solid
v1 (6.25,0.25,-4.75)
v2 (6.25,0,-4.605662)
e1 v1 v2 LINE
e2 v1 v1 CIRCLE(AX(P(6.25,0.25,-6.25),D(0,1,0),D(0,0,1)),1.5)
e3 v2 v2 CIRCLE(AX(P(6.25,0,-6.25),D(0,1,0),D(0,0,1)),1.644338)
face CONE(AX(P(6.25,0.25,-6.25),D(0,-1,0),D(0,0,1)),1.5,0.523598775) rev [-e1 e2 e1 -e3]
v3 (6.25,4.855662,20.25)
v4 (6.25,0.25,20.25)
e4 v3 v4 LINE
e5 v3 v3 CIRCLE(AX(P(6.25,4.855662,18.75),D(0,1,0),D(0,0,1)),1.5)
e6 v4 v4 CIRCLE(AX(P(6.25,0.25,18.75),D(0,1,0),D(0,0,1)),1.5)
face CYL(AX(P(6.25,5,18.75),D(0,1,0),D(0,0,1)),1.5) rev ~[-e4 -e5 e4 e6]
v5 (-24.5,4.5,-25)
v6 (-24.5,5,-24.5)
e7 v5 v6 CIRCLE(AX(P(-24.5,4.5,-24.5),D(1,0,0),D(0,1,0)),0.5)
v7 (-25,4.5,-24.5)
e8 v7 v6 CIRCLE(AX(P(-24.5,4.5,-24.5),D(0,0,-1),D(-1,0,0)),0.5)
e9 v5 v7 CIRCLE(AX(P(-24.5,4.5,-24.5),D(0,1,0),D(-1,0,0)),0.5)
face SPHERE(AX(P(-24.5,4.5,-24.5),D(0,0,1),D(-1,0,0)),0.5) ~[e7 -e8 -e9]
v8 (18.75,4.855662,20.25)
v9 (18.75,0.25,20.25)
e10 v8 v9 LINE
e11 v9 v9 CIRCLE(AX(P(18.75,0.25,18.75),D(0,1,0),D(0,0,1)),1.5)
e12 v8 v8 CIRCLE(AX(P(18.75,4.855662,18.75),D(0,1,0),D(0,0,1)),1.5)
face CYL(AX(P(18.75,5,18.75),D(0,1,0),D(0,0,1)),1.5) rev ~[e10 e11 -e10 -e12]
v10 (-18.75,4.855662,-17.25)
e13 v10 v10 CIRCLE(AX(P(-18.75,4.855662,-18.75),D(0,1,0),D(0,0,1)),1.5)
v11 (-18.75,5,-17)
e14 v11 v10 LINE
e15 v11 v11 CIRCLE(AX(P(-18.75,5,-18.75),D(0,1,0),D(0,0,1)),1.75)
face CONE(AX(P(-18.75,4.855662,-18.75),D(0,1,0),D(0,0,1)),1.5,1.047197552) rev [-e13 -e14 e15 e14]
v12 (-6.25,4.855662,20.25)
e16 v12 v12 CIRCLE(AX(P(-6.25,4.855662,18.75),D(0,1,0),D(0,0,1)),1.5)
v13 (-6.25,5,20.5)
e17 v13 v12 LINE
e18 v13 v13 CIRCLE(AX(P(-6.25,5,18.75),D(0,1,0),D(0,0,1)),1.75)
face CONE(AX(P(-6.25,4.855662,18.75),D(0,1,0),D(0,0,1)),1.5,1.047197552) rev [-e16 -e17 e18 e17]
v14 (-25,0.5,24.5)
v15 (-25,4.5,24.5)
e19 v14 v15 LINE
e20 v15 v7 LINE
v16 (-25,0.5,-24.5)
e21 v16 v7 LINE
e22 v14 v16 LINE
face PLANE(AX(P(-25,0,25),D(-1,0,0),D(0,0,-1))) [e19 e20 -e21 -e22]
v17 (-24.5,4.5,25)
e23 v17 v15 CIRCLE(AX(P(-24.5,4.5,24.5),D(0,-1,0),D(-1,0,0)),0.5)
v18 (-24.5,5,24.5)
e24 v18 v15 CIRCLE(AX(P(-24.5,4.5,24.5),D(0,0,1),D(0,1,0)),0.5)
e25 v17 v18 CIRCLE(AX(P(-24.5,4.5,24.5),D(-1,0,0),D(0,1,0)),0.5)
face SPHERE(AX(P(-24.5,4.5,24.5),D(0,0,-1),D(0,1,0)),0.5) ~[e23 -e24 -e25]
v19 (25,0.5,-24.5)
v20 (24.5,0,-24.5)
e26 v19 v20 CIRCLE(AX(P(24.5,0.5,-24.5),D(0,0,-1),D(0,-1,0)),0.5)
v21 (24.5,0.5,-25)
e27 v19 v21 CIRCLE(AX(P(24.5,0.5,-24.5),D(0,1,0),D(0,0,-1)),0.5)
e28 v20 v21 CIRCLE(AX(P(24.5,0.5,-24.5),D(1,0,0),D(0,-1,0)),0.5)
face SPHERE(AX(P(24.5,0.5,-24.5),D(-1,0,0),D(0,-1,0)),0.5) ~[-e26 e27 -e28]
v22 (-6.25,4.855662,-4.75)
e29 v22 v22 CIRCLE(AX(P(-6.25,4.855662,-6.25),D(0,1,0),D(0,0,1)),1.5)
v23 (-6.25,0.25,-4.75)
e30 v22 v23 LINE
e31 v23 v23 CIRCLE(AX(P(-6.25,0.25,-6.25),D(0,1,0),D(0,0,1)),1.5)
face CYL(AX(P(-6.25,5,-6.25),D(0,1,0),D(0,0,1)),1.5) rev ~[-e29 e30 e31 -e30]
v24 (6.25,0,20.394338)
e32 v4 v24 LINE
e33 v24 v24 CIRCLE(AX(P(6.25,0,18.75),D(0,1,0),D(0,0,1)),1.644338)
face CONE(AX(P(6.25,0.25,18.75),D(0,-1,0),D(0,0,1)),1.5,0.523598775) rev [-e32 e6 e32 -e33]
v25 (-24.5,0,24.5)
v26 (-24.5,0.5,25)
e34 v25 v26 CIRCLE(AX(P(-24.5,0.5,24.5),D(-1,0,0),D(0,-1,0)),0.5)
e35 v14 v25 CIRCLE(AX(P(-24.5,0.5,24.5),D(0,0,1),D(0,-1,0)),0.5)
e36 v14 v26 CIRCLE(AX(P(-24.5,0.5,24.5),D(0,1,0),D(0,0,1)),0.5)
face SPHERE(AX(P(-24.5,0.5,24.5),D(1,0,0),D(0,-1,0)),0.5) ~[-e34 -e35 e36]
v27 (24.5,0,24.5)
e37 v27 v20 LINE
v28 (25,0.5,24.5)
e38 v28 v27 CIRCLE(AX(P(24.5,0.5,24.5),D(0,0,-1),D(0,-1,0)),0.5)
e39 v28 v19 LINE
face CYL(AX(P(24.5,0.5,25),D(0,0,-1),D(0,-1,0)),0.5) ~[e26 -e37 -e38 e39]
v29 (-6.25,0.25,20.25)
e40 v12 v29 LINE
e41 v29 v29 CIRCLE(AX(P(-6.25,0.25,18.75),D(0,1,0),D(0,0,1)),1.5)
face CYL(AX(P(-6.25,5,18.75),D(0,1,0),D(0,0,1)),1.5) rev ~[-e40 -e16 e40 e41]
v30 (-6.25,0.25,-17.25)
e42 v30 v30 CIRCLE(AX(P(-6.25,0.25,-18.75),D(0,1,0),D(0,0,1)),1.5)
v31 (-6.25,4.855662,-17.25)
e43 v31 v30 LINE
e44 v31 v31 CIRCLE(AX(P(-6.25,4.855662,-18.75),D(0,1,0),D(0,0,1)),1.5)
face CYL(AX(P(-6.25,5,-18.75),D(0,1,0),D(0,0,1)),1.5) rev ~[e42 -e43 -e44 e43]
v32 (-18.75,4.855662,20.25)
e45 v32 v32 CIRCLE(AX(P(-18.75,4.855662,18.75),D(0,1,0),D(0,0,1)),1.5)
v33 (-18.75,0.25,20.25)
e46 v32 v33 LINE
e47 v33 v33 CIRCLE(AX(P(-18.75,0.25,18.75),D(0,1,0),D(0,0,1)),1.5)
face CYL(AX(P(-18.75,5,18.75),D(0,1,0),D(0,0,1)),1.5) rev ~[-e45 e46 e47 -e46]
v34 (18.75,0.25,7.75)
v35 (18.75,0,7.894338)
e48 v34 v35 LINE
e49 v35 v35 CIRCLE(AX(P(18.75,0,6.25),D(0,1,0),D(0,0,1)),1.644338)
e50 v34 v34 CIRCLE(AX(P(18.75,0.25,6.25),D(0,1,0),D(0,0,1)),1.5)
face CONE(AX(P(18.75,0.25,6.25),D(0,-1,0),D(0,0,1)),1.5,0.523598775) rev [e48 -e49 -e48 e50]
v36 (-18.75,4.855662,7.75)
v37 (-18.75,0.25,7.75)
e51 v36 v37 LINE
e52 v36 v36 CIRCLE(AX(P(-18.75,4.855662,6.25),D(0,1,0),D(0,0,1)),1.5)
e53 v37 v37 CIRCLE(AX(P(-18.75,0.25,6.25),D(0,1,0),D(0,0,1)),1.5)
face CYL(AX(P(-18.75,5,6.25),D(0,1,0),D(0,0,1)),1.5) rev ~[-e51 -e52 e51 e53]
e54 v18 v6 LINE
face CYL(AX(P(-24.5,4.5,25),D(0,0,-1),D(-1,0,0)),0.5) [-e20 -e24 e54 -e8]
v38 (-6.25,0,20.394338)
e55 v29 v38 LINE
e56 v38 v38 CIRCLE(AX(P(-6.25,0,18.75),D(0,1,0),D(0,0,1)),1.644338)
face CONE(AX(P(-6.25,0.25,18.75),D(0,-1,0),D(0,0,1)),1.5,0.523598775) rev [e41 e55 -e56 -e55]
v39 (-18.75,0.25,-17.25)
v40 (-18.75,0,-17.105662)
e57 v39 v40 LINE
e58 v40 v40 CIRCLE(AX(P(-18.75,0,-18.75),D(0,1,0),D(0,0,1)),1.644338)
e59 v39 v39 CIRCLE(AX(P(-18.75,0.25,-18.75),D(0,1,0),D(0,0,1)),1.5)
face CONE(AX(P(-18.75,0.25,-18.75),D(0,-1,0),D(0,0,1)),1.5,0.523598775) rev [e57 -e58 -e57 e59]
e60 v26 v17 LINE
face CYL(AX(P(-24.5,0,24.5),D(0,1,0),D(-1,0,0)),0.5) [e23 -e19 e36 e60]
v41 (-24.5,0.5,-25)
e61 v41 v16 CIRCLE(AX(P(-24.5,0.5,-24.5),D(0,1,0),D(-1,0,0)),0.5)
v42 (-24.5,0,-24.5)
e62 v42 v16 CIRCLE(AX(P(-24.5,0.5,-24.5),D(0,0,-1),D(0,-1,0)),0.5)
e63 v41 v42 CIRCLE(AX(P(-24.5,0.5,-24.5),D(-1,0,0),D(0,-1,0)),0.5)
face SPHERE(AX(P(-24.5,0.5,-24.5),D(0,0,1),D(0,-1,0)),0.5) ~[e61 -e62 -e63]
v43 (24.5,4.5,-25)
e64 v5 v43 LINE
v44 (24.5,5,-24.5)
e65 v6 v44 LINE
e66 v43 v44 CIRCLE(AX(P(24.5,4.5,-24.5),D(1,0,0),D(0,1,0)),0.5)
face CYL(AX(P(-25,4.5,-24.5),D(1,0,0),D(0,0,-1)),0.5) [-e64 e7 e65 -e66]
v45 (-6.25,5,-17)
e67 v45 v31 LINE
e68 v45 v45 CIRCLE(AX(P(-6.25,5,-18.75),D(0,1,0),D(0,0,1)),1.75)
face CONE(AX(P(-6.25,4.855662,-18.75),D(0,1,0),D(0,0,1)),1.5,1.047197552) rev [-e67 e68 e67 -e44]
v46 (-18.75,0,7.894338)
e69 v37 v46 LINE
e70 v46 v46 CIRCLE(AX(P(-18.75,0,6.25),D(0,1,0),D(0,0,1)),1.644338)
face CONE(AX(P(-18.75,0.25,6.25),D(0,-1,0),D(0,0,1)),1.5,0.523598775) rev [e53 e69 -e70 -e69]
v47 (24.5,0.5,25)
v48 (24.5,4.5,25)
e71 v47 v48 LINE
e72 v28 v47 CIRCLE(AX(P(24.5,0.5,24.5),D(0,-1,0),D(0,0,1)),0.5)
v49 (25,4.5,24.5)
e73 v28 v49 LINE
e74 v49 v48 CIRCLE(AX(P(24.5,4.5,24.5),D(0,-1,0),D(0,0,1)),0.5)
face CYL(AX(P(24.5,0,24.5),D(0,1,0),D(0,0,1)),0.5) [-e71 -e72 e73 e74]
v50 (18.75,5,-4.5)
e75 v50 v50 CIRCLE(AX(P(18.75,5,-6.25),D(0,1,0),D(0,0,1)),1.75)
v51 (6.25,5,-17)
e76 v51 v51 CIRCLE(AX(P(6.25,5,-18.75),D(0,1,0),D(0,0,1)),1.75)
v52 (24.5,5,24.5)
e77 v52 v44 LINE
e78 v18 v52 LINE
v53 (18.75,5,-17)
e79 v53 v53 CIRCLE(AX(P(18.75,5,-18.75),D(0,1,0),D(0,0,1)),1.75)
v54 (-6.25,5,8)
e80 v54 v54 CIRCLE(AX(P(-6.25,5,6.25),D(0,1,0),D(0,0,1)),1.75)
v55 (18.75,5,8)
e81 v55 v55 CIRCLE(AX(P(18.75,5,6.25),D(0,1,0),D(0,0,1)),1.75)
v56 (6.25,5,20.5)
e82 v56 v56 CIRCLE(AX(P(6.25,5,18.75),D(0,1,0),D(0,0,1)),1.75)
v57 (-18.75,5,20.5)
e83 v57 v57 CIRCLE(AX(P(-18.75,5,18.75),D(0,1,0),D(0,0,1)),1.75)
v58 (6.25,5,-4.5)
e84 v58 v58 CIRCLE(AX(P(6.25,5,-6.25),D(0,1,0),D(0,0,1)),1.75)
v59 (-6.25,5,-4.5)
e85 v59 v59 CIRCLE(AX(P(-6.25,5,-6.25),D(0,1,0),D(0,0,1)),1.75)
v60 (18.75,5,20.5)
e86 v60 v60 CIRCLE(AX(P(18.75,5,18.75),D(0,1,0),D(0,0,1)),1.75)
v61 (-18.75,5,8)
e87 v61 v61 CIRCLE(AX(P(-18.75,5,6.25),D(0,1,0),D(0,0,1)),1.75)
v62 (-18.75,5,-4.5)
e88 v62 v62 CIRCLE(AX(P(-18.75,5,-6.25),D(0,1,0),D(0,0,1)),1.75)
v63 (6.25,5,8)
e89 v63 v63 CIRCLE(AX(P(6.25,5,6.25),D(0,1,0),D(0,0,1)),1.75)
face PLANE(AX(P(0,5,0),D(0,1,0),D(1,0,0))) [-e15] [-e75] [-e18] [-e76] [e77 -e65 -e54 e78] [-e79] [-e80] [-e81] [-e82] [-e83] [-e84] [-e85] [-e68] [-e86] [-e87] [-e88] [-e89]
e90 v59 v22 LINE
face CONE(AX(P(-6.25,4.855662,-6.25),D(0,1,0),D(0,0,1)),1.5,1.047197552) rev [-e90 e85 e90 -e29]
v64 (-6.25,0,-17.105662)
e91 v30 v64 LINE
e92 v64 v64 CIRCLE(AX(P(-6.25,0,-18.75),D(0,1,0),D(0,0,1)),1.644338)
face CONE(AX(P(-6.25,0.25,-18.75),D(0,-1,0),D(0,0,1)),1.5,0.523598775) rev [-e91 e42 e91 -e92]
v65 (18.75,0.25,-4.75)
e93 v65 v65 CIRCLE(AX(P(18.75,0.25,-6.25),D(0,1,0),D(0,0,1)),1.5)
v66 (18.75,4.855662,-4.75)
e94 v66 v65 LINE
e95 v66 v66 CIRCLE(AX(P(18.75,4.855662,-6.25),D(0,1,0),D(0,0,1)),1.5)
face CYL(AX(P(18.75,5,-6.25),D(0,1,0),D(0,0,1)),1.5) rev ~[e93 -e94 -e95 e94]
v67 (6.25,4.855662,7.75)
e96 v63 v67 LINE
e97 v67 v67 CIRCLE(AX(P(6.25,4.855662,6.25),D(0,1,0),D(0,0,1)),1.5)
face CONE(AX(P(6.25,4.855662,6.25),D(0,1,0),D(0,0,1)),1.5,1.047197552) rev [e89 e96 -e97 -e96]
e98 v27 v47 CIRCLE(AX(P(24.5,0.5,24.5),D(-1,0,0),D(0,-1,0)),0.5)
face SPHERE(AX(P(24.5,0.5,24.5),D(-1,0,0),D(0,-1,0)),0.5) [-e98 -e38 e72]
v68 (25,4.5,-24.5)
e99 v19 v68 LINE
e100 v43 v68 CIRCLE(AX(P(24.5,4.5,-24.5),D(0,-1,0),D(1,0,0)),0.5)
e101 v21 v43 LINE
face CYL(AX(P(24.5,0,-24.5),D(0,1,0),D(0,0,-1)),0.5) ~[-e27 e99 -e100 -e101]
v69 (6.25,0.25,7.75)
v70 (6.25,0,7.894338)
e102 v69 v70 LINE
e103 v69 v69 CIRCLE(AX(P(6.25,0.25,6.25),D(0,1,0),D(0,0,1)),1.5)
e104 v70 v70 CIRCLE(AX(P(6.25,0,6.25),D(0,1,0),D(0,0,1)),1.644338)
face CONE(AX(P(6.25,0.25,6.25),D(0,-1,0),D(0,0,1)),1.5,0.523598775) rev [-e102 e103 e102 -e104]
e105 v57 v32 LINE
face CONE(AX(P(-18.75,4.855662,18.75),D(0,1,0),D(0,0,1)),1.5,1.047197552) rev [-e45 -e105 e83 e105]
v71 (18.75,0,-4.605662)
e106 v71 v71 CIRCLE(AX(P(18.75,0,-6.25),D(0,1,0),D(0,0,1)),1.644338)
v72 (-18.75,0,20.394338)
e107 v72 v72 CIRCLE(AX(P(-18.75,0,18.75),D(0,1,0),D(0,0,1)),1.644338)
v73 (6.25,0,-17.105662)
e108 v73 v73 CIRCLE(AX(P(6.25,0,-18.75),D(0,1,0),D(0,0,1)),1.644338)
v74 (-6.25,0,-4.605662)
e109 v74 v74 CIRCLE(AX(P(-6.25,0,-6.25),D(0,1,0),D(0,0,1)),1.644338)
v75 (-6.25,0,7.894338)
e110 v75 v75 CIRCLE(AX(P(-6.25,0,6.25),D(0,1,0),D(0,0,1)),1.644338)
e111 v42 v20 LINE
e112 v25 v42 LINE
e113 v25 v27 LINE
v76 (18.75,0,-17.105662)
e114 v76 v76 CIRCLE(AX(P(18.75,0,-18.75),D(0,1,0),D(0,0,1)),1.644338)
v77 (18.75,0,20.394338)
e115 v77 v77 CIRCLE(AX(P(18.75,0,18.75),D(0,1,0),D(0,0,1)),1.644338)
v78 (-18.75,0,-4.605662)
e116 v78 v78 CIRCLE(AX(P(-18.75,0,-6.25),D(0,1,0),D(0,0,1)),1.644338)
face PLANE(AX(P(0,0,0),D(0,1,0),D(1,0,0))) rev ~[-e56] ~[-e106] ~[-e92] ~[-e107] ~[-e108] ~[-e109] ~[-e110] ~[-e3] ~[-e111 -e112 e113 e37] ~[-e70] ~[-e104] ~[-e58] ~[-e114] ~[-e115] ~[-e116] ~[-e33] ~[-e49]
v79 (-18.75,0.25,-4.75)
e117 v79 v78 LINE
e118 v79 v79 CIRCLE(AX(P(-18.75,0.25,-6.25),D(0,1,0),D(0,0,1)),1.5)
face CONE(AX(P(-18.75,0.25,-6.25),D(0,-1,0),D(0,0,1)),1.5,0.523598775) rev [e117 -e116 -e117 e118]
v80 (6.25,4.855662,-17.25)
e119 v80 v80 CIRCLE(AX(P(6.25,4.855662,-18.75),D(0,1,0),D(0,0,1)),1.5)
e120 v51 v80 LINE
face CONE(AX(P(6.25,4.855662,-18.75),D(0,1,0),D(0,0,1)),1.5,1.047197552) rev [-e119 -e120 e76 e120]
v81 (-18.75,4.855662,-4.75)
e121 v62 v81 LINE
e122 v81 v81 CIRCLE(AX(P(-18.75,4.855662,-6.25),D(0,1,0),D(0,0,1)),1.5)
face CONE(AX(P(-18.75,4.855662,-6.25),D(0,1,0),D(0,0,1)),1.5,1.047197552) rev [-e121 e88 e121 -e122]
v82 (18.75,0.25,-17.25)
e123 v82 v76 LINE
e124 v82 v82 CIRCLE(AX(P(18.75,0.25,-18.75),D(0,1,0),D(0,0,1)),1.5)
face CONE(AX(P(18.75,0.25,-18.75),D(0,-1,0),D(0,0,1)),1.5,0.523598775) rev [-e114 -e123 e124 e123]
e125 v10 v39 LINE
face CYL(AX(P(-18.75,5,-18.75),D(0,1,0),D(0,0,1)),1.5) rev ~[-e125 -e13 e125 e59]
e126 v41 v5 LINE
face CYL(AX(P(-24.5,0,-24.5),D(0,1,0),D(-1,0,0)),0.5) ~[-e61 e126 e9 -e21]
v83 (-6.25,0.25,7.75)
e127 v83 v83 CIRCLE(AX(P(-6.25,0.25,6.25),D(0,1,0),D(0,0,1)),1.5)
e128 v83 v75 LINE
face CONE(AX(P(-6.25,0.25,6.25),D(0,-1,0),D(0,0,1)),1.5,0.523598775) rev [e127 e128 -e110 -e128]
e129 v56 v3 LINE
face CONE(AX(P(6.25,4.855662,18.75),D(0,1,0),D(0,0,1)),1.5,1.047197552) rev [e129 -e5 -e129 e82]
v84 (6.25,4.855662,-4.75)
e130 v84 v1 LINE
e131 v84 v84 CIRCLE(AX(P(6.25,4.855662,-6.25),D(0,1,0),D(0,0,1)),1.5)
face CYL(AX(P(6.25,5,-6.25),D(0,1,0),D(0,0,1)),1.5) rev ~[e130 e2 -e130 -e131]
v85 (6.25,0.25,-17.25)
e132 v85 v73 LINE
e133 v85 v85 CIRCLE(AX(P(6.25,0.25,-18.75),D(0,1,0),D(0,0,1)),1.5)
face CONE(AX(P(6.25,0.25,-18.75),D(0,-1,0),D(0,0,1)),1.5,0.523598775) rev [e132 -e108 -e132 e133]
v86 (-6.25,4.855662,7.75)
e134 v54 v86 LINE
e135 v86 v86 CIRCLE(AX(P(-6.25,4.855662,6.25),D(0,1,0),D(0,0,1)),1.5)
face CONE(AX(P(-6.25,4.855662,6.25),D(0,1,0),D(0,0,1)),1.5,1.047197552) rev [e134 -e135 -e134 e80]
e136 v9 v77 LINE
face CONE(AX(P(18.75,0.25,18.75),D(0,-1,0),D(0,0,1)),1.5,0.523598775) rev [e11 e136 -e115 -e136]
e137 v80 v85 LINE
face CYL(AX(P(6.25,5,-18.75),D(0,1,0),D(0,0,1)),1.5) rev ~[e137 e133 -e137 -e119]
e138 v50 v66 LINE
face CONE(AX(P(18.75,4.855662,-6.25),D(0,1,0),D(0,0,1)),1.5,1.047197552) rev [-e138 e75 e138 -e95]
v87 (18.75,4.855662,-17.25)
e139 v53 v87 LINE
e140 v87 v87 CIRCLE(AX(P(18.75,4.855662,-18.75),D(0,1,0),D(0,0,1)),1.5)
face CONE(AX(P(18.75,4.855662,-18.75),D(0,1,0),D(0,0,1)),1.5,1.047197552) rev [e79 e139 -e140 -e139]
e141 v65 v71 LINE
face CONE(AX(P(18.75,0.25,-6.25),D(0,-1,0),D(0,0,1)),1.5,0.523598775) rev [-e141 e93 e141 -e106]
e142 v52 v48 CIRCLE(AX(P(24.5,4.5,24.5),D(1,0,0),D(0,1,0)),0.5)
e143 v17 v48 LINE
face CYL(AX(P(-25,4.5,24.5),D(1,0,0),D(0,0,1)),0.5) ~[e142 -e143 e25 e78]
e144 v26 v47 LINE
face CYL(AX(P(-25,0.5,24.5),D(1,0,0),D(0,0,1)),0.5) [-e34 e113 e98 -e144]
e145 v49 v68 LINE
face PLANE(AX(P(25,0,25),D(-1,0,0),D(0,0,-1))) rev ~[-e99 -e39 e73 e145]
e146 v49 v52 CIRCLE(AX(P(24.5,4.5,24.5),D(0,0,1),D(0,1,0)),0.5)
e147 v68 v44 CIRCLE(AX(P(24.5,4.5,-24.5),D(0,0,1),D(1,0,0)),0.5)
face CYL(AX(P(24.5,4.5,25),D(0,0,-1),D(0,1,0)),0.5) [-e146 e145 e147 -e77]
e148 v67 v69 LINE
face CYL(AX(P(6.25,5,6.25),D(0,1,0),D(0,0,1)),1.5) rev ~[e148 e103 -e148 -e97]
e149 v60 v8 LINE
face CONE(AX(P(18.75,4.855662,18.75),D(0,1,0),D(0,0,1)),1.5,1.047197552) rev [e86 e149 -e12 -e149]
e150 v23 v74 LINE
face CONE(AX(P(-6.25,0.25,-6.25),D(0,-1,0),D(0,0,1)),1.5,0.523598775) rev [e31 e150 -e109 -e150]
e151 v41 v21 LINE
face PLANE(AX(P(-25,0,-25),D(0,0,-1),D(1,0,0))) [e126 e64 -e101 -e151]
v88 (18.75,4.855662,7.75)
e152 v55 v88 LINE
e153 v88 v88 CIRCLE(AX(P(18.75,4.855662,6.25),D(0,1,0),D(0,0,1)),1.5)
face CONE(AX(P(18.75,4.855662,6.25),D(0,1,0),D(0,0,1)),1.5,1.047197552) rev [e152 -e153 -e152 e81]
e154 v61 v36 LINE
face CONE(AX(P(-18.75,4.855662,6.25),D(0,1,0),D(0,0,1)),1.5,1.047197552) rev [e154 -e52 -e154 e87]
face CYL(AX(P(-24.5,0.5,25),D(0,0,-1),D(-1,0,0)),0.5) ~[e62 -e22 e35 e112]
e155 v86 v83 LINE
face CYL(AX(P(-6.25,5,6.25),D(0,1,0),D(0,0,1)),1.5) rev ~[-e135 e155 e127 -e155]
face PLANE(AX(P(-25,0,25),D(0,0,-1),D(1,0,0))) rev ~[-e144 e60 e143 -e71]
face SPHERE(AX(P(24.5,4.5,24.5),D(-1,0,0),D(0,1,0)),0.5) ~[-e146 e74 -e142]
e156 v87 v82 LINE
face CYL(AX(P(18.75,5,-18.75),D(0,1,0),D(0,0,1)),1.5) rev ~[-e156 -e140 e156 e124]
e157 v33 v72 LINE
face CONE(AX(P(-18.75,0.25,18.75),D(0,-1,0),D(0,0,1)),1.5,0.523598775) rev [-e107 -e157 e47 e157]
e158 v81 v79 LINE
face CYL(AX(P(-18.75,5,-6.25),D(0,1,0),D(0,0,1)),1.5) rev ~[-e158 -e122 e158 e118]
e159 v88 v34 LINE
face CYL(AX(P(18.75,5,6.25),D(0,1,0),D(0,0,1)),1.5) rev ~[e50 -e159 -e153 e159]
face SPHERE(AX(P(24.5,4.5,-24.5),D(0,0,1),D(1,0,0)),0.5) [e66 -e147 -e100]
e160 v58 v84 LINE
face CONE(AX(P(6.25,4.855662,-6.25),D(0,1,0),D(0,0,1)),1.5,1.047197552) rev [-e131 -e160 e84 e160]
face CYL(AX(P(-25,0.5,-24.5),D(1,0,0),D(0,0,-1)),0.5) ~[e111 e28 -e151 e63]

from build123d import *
from OCP.BRepFilletAPI import BRepFilletAPI_MakeChamfer

# Parameters (mm, degrees)
BASE_SKETCH_W          = 50
BASE_SKETCH_H          = 50
BASE_EXTRUDE_DEPTH     = 5
CIRCLES_SKETCH_R       = 1.5
CIRCLE_CUTS_DEPTH      = 5
EDGE_FILLET_R          = 0.5
CIRCULAR_CHAMFER_SIZE  = 0.25
CIRCULAR_CHAMFER_SIZE2 = 0.144337567


with BuildPart() as part:
    # Base Sketch → Base Extrude (new body)
    with BuildSketch(Plane(origin=(0, 0, 0), x_dir=(1, 0, 0), z_dir=(0, 1, 0))):
        Rectangle(BASE_SKETCH_W, BASE_SKETCH_H)
    extrude(amount=BASE_EXTRUDE_DEPTH)

    # Circles Sketch → Circle Cuts (cut)
    with BuildSketch(Plane(origin=(0, 5, 0), x_dir=(1, 0, 0), z_dir=(0, 1, 0))):
        with Locations(Location((-18.75, 18.75, 0), (0, 0, 270))):
            Circle(CIRCLES_SKETCH_R)
        with Locations(Location((-6.25, 18.75, 0), (0, 0, 270))):
            Circle(CIRCLES_SKETCH_R)
        with Locations(Location((6.25, 18.75, 0), (0, 0, 270))):
            Circle(CIRCLES_SKETCH_R)
        with Locations(Location((18.75, 18.75, 0), (0, 0, 270))):
            Circle(CIRCLES_SKETCH_R)
        with Locations(Location((-18.75, 6.25, 0), (0, 0, 270))):
            Circle(CIRCLES_SKETCH_R)
        with Locations(Location((-6.25, 6.25, 0), (0, 0, 270))):
            Circle(CIRCLES_SKETCH_R)
        with Locations(Location((6.25, 6.25, 0), (0, 0, 270))):
            Circle(CIRCLES_SKETCH_R)
        with Locations(Location((18.75, 6.25, 0), (0, 0, 270))):
            Circle(CIRCLES_SKETCH_R)
        with Locations(Location((-18.75, -6.25, 0), (0, 0, 270))):
            Circle(CIRCLES_SKETCH_R)
        with Locations(Location((-6.25, -6.25, 0), (0, 0, 270))):
            Circle(CIRCLES_SKETCH_R)
        with Locations(Location((6.25, -6.25, 0), (0, 0, 270))):
            Circle(CIRCLES_SKETCH_R)
        with Locations(Location((18.75, -6.25, 0), (0, 0, 270))):
            Circle(CIRCLES_SKETCH_R)
        with Locations(Location((-18.75, -18.75, 0), (0, 0, 270))):
            Circle(CIRCLES_SKETCH_R)
        with Locations(Location((-6.25, -18.75, 0), (0, 0, 270))):
            Circle(CIRCLES_SKETCH_R)
        with Locations(Location((6.25, -18.75, 0), (0, 0, 270))):
            Circle(CIRCLES_SKETCH_R)
        with Locations(Location((18.75, -18.75, 0), (0, 0, 270))):
            Circle(CIRCLES_SKETCH_R)
    extrude(amount=-CIRCLE_CUTS_DEPTH, mode=Mode.SUBTRACT)

    # Edge Fillet
    edge_fillet_edges = [part.edges().sort_by_distance(p)[0] for p in [
        (-25, 5, 0),
        (0, 5, 25),
        (25, 5, 0),
        (0, 0, 25),
        (-25, 0, 0),
        (0, 0, -25),
        (25, 0, 0),
        (25, 2.5, 25),
        (-25, 2.5, 25),
        (-25, 2.5, -25),
        (25, 2.5, -25),
        (0, 5, -25),
    ]]
    fillet(edge_fillet_edges, radius=EDGE_FILLET_R)

    # Circular Chamfer: one chamfer whose edges measure the first distance from different faces: ONE call of the kernel's chamfer builder (chamfer() names one face for all edges)
    circular_chamfer_edges_1 = [part.edges().sort_by_distance(p)[0] for p in [
        (18.75, 0, -20.25),
    ]]
    circular_chamfer_side_1 = [part.faces().sort_by_distance(p)[0] for p in [
        (18.75, 2.5, -20.25),
    ]]
    circular_chamfer_edges_2 = [part.edges().sort_by_distance(p)[0] for p in [
        (18.75, 5, -20.25),
        (6.25, 5, -20.25),
        (6.25, 5, -7.75),
        (6.25, 5, 4.75),
        (-6.25, 5, 4.75),
        (-6.25, 5, -7.75),
        (-6.25, 5, -20.25),
        (-18.75, 5, -20.25),
        (-18.75, 5, 17.25),
        (-6.25, 5, 17.25),
        (6.25, 5, 17.25),
        (18.75, 5, 4.75),
        (18.75, 5, 17.25),
        (-18.75, 5, 4.75),
        (-18.75, 5, -7.75),
        (18.75, 5, -7.75),
    ]]
    circular_chamfer_side_2 = [part.faces().sort_by_distance(p)[0] for p in [
        (0, 5, 0),
    ]]
    circular_chamfer_edges_3 = [part.edges().sort_by_distance(p)[0] for p in [
        (6.25, 0, -20.25),
    ]]
    circular_chamfer_side_3 = [part.faces().sort_by_distance(p)[0] for p in [
        (6.25, 2.5, -20.25),
    ]]
    circular_chamfer_edges_4 = [part.edges().sort_by_distance(p)[0] for p in [
        (6.25, 0, -7.75),
    ]]
    circular_chamfer_side_4 = [part.faces().sort_by_distance(p)[0] for p in [
        (6.25, 2.5, -7.75),
    ]]
    circular_chamfer_edges_5 = [part.edges().sort_by_distance(p)[0] for p in [
        (6.25, 0, 4.75),
    ]]
    circular_chamfer_side_5 = [part.faces().sort_by_distance(p)[0] for p in [
        (6.25, 2.5, 4.75),
    ]]
    circular_chamfer_edges_6 = [part.edges().sort_by_distance(p)[0] for p in [
        (-6.25, 0, 4.75),
    ]]
    circular_chamfer_side_6 = [part.faces().sort_by_distance(p)[0] for p in [
        (-6.25, 2.5, 4.75),
    ]]
    circular_chamfer_edges_7 = [part.edges().sort_by_distance(p)[0] for p in [
        (-6.25, 0, -7.75),
    ]]
    circular_chamfer_side_7 = [part.faces().sort_by_distance(p)[0] for p in [
        (-6.25, 2.5, -7.75),
    ]]
    circular_chamfer_edges_8 = [part.edges().sort_by_distance(p)[0] for p in [
        (-6.25, 0, -20.25),
    ]]
    circular_chamfer_side_8 = [part.faces().sort_by_distance(p)[0] for p in [
        (-6.25, 2.5, -20.25),
    ]]
    circular_chamfer_edges_9 = [part.edges().sort_by_distance(p)[0] for p in [
        (-18.75, 0, -20.25),
    ]]
    circular_chamfer_side_9 = [part.faces().sort_by_distance(p)[0] for p in [
        (-18.75, 2.5, -20.25),
    ]]
    circular_chamfer_edges_10 = [part.edges().sort_by_distance(p)[0] for p in [
        (-18.75, 0, 17.25),
    ]]
    circular_chamfer_side_10 = [part.faces().sort_by_distance(p)[0] for p in [
        (-18.75, 2.5, 17.25),
    ]]
    circular_chamfer_edges_11 = [part.edges().sort_by_distance(p)[0] for p in [
        (-6.25, 0, 17.25),
    ]]
    circular_chamfer_side_11 = [part.faces().sort_by_distance(p)[0] for p in [
        (-6.25, 2.5, 17.25),
    ]]
    circular_chamfer_edges_12 = [part.edges().sort_by_distance(p)[0] for p in [
        (6.25, 0, 17.25),
    ]]
    circular_chamfer_side_12 = [part.faces().sort_by_distance(p)[0] for p in [
        (6.25, 2.5, 17.25),
    ]]
    circular_chamfer_edges_13 = [part.edges().sort_by_distance(p)[0] for p in [
        (18.75, 0, 4.75),
    ]]
    circular_chamfer_side_13 = [part.faces().sort_by_distance(p)[0] for p in [
        (18.75, 2.5, 4.75),
    ]]
    circular_chamfer_edges_14 = [part.edges().sort_by_distance(p)[0] for p in [
        (18.75, 0, 17.25),
    ]]
    circular_chamfer_side_14 = [part.faces().sort_by_distance(p)[0] for p in [
        (18.75, 2.5, 17.25),
    ]]
    circular_chamfer_edges_15 = [part.edges().sort_by_distance(p)[0] for p in [
        (-18.75, 0, 4.75),
    ]]
    circular_chamfer_side_15 = [part.faces().sort_by_distance(p)[0] for p in [
        (-18.75, 2.5, 4.75),
    ]]
    circular_chamfer_edges_16 = [part.edges().sort_by_distance(p)[0] for p in [
        (-18.75, 0, -7.75),
    ]]
    circular_chamfer_side_16 = [part.faces().sort_by_distance(p)[0] for p in [
        (-18.75, 2.5, -7.75),
    ]]
    circular_chamfer_edges_17 = [part.edges().sort_by_distance(p)[0] for p in [
        (18.75, 0, -7.75),
    ]]
    circular_chamfer_side_17 = [part.faces().sort_by_distance(p)[0] for p in [
        (18.75, 2.5, -7.75),
    ]]
    circular_chamfer = BRepFilletAPI_MakeChamfer(part.part.solid().wrapped)
    for e in circular_chamfer_edges_1:
        circular_chamfer.Add(CIRCULAR_CHAMFER_SIZE, CIRCULAR_CHAMFER_SIZE2, e.wrapped, circular_chamfer_side_1[0].wrapped)  # the first distance lies on this face
    for e in circular_chamfer_edges_2:
        circular_chamfer.Add(CIRCULAR_CHAMFER_SIZE, CIRCULAR_CHAMFER_SIZE2, e.wrapped, circular_chamfer_side_2[0].wrapped)  # the first distance lies on this face
    for e in circular_chamfer_edges_3:
        circular_chamfer.Add(CIRCULAR_CHAMFER_SIZE, CIRCULAR_CHAMFER_SIZE2, e.wrapped, circular_chamfer_side_3[0].wrapped)  # the first distance lies on this face
    for e in circular_chamfer_edges_4:
        circular_chamfer.Add(CIRCULAR_CHAMFER_SIZE, CIRCULAR_CHAMFER_SIZE2, e.wrapped, circular_chamfer_side_4[0].wrapped)  # the first distance lies on this face
    for e in circular_chamfer_edges_5:
        circular_chamfer.Add(CIRCULAR_CHAMFER_SIZE, CIRCULAR_CHAMFER_SIZE2, e.wrapped, circular_chamfer_side_5[0].wrapped)  # the first distance lies on this face
    for e in circular_chamfer_edges_6:
        circular_chamfer.Add(CIRCULAR_CHAMFER_SIZE, CIRCULAR_CHAMFER_SIZE2, e.wrapped, circular_chamfer_side_6[0].wrapped)  # the first distance lies on this face
    for e in circular_chamfer_edges_7:
        circular_chamfer.Add(CIRCULAR_CHAMFER_SIZE, CIRCULAR_CHAMFER_SIZE2, e.wrapped, circular_chamfer_side_7[0].wrapped)  # the first distance lies on this face
    for e in circular_chamfer_edges_8:
        circular_chamfer.Add(CIRCULAR_CHAMFER_SIZE, CIRCULAR_CHAMFER_SIZE2, e.wrapped, circular_chamfer_side_8[0].wrapped)  # the first distance lies on this face
    for e in circular_chamfer_edges_9:
        circular_chamfer.Add(CIRCULAR_CHAMFER_SIZE, CIRCULAR_CHAMFER_SIZE2, e.wrapped, circular_chamfer_side_9[0].wrapped)  # the first distance lies on this face
    for e in circular_chamfer_edges_10:
        circular_chamfer.Add(CIRCULAR_CHAMFER_SIZE, CIRCULAR_CHAMFER_SIZE2, e.wrapped, circular_chamfer_side_10[0].wrapped)  # the first distance lies on this face
    for e in circular_chamfer_edges_11:
        circular_chamfer.Add(CIRCULAR_CHAMFER_SIZE, CIRCULAR_CHAMFER_SIZE2, e.wrapped, circular_chamfer_side_11[0].wrapped)  # the first distance lies on this face
    for e in circular_chamfer_edges_12:
        circular_chamfer.Add(CIRCULAR_CHAMFER_SIZE, CIRCULAR_CHAMFER_SIZE2, e.wrapped, circular_chamfer_side_12[0].wrapped)  # the first distance lies on this face
    for e in circular_chamfer_edges_13:
        circular_chamfer.Add(CIRCULAR_CHAMFER_SIZE, CIRCULAR_CHAMFER_SIZE2, e.wrapped, circular_chamfer_side_13[0].wrapped)  # the first distance lies on this face
    for e in circular_chamfer_edges_14:
        circular_chamfer.Add(CIRCULAR_CHAMFER_SIZE, CIRCULAR_CHAMFER_SIZE2, e.wrapped, circular_chamfer_side_14[0].wrapped)  # the first distance lies on this face
    for e in circular_chamfer_edges_15:
        circular_chamfer.Add(CIRCULAR_CHAMFER_SIZE, CIRCULAR_CHAMFER_SIZE2, e.wrapped, circular_chamfer_side_15[0].wrapped)  # the first distance lies on this face
    for e in circular_chamfer_edges_16:
        circular_chamfer.Add(CIRCULAR_CHAMFER_SIZE, CIRCULAR_CHAMFER_SIZE2, e.wrapped, circular_chamfer_side_16[0].wrapped)  # the first distance lies on this face
    for e in circular_chamfer_edges_17:
        circular_chamfer.Add(CIRCULAR_CHAMFER_SIZE, CIRCULAR_CHAMFER_SIZE2, e.wrapped, circular_chamfer_side_17[0].wrapped)  # the first distance lies on this face
    add(Compound.cast(circular_chamfer.Shape()), mode=Mode.REPLACE)


solid = part.part
